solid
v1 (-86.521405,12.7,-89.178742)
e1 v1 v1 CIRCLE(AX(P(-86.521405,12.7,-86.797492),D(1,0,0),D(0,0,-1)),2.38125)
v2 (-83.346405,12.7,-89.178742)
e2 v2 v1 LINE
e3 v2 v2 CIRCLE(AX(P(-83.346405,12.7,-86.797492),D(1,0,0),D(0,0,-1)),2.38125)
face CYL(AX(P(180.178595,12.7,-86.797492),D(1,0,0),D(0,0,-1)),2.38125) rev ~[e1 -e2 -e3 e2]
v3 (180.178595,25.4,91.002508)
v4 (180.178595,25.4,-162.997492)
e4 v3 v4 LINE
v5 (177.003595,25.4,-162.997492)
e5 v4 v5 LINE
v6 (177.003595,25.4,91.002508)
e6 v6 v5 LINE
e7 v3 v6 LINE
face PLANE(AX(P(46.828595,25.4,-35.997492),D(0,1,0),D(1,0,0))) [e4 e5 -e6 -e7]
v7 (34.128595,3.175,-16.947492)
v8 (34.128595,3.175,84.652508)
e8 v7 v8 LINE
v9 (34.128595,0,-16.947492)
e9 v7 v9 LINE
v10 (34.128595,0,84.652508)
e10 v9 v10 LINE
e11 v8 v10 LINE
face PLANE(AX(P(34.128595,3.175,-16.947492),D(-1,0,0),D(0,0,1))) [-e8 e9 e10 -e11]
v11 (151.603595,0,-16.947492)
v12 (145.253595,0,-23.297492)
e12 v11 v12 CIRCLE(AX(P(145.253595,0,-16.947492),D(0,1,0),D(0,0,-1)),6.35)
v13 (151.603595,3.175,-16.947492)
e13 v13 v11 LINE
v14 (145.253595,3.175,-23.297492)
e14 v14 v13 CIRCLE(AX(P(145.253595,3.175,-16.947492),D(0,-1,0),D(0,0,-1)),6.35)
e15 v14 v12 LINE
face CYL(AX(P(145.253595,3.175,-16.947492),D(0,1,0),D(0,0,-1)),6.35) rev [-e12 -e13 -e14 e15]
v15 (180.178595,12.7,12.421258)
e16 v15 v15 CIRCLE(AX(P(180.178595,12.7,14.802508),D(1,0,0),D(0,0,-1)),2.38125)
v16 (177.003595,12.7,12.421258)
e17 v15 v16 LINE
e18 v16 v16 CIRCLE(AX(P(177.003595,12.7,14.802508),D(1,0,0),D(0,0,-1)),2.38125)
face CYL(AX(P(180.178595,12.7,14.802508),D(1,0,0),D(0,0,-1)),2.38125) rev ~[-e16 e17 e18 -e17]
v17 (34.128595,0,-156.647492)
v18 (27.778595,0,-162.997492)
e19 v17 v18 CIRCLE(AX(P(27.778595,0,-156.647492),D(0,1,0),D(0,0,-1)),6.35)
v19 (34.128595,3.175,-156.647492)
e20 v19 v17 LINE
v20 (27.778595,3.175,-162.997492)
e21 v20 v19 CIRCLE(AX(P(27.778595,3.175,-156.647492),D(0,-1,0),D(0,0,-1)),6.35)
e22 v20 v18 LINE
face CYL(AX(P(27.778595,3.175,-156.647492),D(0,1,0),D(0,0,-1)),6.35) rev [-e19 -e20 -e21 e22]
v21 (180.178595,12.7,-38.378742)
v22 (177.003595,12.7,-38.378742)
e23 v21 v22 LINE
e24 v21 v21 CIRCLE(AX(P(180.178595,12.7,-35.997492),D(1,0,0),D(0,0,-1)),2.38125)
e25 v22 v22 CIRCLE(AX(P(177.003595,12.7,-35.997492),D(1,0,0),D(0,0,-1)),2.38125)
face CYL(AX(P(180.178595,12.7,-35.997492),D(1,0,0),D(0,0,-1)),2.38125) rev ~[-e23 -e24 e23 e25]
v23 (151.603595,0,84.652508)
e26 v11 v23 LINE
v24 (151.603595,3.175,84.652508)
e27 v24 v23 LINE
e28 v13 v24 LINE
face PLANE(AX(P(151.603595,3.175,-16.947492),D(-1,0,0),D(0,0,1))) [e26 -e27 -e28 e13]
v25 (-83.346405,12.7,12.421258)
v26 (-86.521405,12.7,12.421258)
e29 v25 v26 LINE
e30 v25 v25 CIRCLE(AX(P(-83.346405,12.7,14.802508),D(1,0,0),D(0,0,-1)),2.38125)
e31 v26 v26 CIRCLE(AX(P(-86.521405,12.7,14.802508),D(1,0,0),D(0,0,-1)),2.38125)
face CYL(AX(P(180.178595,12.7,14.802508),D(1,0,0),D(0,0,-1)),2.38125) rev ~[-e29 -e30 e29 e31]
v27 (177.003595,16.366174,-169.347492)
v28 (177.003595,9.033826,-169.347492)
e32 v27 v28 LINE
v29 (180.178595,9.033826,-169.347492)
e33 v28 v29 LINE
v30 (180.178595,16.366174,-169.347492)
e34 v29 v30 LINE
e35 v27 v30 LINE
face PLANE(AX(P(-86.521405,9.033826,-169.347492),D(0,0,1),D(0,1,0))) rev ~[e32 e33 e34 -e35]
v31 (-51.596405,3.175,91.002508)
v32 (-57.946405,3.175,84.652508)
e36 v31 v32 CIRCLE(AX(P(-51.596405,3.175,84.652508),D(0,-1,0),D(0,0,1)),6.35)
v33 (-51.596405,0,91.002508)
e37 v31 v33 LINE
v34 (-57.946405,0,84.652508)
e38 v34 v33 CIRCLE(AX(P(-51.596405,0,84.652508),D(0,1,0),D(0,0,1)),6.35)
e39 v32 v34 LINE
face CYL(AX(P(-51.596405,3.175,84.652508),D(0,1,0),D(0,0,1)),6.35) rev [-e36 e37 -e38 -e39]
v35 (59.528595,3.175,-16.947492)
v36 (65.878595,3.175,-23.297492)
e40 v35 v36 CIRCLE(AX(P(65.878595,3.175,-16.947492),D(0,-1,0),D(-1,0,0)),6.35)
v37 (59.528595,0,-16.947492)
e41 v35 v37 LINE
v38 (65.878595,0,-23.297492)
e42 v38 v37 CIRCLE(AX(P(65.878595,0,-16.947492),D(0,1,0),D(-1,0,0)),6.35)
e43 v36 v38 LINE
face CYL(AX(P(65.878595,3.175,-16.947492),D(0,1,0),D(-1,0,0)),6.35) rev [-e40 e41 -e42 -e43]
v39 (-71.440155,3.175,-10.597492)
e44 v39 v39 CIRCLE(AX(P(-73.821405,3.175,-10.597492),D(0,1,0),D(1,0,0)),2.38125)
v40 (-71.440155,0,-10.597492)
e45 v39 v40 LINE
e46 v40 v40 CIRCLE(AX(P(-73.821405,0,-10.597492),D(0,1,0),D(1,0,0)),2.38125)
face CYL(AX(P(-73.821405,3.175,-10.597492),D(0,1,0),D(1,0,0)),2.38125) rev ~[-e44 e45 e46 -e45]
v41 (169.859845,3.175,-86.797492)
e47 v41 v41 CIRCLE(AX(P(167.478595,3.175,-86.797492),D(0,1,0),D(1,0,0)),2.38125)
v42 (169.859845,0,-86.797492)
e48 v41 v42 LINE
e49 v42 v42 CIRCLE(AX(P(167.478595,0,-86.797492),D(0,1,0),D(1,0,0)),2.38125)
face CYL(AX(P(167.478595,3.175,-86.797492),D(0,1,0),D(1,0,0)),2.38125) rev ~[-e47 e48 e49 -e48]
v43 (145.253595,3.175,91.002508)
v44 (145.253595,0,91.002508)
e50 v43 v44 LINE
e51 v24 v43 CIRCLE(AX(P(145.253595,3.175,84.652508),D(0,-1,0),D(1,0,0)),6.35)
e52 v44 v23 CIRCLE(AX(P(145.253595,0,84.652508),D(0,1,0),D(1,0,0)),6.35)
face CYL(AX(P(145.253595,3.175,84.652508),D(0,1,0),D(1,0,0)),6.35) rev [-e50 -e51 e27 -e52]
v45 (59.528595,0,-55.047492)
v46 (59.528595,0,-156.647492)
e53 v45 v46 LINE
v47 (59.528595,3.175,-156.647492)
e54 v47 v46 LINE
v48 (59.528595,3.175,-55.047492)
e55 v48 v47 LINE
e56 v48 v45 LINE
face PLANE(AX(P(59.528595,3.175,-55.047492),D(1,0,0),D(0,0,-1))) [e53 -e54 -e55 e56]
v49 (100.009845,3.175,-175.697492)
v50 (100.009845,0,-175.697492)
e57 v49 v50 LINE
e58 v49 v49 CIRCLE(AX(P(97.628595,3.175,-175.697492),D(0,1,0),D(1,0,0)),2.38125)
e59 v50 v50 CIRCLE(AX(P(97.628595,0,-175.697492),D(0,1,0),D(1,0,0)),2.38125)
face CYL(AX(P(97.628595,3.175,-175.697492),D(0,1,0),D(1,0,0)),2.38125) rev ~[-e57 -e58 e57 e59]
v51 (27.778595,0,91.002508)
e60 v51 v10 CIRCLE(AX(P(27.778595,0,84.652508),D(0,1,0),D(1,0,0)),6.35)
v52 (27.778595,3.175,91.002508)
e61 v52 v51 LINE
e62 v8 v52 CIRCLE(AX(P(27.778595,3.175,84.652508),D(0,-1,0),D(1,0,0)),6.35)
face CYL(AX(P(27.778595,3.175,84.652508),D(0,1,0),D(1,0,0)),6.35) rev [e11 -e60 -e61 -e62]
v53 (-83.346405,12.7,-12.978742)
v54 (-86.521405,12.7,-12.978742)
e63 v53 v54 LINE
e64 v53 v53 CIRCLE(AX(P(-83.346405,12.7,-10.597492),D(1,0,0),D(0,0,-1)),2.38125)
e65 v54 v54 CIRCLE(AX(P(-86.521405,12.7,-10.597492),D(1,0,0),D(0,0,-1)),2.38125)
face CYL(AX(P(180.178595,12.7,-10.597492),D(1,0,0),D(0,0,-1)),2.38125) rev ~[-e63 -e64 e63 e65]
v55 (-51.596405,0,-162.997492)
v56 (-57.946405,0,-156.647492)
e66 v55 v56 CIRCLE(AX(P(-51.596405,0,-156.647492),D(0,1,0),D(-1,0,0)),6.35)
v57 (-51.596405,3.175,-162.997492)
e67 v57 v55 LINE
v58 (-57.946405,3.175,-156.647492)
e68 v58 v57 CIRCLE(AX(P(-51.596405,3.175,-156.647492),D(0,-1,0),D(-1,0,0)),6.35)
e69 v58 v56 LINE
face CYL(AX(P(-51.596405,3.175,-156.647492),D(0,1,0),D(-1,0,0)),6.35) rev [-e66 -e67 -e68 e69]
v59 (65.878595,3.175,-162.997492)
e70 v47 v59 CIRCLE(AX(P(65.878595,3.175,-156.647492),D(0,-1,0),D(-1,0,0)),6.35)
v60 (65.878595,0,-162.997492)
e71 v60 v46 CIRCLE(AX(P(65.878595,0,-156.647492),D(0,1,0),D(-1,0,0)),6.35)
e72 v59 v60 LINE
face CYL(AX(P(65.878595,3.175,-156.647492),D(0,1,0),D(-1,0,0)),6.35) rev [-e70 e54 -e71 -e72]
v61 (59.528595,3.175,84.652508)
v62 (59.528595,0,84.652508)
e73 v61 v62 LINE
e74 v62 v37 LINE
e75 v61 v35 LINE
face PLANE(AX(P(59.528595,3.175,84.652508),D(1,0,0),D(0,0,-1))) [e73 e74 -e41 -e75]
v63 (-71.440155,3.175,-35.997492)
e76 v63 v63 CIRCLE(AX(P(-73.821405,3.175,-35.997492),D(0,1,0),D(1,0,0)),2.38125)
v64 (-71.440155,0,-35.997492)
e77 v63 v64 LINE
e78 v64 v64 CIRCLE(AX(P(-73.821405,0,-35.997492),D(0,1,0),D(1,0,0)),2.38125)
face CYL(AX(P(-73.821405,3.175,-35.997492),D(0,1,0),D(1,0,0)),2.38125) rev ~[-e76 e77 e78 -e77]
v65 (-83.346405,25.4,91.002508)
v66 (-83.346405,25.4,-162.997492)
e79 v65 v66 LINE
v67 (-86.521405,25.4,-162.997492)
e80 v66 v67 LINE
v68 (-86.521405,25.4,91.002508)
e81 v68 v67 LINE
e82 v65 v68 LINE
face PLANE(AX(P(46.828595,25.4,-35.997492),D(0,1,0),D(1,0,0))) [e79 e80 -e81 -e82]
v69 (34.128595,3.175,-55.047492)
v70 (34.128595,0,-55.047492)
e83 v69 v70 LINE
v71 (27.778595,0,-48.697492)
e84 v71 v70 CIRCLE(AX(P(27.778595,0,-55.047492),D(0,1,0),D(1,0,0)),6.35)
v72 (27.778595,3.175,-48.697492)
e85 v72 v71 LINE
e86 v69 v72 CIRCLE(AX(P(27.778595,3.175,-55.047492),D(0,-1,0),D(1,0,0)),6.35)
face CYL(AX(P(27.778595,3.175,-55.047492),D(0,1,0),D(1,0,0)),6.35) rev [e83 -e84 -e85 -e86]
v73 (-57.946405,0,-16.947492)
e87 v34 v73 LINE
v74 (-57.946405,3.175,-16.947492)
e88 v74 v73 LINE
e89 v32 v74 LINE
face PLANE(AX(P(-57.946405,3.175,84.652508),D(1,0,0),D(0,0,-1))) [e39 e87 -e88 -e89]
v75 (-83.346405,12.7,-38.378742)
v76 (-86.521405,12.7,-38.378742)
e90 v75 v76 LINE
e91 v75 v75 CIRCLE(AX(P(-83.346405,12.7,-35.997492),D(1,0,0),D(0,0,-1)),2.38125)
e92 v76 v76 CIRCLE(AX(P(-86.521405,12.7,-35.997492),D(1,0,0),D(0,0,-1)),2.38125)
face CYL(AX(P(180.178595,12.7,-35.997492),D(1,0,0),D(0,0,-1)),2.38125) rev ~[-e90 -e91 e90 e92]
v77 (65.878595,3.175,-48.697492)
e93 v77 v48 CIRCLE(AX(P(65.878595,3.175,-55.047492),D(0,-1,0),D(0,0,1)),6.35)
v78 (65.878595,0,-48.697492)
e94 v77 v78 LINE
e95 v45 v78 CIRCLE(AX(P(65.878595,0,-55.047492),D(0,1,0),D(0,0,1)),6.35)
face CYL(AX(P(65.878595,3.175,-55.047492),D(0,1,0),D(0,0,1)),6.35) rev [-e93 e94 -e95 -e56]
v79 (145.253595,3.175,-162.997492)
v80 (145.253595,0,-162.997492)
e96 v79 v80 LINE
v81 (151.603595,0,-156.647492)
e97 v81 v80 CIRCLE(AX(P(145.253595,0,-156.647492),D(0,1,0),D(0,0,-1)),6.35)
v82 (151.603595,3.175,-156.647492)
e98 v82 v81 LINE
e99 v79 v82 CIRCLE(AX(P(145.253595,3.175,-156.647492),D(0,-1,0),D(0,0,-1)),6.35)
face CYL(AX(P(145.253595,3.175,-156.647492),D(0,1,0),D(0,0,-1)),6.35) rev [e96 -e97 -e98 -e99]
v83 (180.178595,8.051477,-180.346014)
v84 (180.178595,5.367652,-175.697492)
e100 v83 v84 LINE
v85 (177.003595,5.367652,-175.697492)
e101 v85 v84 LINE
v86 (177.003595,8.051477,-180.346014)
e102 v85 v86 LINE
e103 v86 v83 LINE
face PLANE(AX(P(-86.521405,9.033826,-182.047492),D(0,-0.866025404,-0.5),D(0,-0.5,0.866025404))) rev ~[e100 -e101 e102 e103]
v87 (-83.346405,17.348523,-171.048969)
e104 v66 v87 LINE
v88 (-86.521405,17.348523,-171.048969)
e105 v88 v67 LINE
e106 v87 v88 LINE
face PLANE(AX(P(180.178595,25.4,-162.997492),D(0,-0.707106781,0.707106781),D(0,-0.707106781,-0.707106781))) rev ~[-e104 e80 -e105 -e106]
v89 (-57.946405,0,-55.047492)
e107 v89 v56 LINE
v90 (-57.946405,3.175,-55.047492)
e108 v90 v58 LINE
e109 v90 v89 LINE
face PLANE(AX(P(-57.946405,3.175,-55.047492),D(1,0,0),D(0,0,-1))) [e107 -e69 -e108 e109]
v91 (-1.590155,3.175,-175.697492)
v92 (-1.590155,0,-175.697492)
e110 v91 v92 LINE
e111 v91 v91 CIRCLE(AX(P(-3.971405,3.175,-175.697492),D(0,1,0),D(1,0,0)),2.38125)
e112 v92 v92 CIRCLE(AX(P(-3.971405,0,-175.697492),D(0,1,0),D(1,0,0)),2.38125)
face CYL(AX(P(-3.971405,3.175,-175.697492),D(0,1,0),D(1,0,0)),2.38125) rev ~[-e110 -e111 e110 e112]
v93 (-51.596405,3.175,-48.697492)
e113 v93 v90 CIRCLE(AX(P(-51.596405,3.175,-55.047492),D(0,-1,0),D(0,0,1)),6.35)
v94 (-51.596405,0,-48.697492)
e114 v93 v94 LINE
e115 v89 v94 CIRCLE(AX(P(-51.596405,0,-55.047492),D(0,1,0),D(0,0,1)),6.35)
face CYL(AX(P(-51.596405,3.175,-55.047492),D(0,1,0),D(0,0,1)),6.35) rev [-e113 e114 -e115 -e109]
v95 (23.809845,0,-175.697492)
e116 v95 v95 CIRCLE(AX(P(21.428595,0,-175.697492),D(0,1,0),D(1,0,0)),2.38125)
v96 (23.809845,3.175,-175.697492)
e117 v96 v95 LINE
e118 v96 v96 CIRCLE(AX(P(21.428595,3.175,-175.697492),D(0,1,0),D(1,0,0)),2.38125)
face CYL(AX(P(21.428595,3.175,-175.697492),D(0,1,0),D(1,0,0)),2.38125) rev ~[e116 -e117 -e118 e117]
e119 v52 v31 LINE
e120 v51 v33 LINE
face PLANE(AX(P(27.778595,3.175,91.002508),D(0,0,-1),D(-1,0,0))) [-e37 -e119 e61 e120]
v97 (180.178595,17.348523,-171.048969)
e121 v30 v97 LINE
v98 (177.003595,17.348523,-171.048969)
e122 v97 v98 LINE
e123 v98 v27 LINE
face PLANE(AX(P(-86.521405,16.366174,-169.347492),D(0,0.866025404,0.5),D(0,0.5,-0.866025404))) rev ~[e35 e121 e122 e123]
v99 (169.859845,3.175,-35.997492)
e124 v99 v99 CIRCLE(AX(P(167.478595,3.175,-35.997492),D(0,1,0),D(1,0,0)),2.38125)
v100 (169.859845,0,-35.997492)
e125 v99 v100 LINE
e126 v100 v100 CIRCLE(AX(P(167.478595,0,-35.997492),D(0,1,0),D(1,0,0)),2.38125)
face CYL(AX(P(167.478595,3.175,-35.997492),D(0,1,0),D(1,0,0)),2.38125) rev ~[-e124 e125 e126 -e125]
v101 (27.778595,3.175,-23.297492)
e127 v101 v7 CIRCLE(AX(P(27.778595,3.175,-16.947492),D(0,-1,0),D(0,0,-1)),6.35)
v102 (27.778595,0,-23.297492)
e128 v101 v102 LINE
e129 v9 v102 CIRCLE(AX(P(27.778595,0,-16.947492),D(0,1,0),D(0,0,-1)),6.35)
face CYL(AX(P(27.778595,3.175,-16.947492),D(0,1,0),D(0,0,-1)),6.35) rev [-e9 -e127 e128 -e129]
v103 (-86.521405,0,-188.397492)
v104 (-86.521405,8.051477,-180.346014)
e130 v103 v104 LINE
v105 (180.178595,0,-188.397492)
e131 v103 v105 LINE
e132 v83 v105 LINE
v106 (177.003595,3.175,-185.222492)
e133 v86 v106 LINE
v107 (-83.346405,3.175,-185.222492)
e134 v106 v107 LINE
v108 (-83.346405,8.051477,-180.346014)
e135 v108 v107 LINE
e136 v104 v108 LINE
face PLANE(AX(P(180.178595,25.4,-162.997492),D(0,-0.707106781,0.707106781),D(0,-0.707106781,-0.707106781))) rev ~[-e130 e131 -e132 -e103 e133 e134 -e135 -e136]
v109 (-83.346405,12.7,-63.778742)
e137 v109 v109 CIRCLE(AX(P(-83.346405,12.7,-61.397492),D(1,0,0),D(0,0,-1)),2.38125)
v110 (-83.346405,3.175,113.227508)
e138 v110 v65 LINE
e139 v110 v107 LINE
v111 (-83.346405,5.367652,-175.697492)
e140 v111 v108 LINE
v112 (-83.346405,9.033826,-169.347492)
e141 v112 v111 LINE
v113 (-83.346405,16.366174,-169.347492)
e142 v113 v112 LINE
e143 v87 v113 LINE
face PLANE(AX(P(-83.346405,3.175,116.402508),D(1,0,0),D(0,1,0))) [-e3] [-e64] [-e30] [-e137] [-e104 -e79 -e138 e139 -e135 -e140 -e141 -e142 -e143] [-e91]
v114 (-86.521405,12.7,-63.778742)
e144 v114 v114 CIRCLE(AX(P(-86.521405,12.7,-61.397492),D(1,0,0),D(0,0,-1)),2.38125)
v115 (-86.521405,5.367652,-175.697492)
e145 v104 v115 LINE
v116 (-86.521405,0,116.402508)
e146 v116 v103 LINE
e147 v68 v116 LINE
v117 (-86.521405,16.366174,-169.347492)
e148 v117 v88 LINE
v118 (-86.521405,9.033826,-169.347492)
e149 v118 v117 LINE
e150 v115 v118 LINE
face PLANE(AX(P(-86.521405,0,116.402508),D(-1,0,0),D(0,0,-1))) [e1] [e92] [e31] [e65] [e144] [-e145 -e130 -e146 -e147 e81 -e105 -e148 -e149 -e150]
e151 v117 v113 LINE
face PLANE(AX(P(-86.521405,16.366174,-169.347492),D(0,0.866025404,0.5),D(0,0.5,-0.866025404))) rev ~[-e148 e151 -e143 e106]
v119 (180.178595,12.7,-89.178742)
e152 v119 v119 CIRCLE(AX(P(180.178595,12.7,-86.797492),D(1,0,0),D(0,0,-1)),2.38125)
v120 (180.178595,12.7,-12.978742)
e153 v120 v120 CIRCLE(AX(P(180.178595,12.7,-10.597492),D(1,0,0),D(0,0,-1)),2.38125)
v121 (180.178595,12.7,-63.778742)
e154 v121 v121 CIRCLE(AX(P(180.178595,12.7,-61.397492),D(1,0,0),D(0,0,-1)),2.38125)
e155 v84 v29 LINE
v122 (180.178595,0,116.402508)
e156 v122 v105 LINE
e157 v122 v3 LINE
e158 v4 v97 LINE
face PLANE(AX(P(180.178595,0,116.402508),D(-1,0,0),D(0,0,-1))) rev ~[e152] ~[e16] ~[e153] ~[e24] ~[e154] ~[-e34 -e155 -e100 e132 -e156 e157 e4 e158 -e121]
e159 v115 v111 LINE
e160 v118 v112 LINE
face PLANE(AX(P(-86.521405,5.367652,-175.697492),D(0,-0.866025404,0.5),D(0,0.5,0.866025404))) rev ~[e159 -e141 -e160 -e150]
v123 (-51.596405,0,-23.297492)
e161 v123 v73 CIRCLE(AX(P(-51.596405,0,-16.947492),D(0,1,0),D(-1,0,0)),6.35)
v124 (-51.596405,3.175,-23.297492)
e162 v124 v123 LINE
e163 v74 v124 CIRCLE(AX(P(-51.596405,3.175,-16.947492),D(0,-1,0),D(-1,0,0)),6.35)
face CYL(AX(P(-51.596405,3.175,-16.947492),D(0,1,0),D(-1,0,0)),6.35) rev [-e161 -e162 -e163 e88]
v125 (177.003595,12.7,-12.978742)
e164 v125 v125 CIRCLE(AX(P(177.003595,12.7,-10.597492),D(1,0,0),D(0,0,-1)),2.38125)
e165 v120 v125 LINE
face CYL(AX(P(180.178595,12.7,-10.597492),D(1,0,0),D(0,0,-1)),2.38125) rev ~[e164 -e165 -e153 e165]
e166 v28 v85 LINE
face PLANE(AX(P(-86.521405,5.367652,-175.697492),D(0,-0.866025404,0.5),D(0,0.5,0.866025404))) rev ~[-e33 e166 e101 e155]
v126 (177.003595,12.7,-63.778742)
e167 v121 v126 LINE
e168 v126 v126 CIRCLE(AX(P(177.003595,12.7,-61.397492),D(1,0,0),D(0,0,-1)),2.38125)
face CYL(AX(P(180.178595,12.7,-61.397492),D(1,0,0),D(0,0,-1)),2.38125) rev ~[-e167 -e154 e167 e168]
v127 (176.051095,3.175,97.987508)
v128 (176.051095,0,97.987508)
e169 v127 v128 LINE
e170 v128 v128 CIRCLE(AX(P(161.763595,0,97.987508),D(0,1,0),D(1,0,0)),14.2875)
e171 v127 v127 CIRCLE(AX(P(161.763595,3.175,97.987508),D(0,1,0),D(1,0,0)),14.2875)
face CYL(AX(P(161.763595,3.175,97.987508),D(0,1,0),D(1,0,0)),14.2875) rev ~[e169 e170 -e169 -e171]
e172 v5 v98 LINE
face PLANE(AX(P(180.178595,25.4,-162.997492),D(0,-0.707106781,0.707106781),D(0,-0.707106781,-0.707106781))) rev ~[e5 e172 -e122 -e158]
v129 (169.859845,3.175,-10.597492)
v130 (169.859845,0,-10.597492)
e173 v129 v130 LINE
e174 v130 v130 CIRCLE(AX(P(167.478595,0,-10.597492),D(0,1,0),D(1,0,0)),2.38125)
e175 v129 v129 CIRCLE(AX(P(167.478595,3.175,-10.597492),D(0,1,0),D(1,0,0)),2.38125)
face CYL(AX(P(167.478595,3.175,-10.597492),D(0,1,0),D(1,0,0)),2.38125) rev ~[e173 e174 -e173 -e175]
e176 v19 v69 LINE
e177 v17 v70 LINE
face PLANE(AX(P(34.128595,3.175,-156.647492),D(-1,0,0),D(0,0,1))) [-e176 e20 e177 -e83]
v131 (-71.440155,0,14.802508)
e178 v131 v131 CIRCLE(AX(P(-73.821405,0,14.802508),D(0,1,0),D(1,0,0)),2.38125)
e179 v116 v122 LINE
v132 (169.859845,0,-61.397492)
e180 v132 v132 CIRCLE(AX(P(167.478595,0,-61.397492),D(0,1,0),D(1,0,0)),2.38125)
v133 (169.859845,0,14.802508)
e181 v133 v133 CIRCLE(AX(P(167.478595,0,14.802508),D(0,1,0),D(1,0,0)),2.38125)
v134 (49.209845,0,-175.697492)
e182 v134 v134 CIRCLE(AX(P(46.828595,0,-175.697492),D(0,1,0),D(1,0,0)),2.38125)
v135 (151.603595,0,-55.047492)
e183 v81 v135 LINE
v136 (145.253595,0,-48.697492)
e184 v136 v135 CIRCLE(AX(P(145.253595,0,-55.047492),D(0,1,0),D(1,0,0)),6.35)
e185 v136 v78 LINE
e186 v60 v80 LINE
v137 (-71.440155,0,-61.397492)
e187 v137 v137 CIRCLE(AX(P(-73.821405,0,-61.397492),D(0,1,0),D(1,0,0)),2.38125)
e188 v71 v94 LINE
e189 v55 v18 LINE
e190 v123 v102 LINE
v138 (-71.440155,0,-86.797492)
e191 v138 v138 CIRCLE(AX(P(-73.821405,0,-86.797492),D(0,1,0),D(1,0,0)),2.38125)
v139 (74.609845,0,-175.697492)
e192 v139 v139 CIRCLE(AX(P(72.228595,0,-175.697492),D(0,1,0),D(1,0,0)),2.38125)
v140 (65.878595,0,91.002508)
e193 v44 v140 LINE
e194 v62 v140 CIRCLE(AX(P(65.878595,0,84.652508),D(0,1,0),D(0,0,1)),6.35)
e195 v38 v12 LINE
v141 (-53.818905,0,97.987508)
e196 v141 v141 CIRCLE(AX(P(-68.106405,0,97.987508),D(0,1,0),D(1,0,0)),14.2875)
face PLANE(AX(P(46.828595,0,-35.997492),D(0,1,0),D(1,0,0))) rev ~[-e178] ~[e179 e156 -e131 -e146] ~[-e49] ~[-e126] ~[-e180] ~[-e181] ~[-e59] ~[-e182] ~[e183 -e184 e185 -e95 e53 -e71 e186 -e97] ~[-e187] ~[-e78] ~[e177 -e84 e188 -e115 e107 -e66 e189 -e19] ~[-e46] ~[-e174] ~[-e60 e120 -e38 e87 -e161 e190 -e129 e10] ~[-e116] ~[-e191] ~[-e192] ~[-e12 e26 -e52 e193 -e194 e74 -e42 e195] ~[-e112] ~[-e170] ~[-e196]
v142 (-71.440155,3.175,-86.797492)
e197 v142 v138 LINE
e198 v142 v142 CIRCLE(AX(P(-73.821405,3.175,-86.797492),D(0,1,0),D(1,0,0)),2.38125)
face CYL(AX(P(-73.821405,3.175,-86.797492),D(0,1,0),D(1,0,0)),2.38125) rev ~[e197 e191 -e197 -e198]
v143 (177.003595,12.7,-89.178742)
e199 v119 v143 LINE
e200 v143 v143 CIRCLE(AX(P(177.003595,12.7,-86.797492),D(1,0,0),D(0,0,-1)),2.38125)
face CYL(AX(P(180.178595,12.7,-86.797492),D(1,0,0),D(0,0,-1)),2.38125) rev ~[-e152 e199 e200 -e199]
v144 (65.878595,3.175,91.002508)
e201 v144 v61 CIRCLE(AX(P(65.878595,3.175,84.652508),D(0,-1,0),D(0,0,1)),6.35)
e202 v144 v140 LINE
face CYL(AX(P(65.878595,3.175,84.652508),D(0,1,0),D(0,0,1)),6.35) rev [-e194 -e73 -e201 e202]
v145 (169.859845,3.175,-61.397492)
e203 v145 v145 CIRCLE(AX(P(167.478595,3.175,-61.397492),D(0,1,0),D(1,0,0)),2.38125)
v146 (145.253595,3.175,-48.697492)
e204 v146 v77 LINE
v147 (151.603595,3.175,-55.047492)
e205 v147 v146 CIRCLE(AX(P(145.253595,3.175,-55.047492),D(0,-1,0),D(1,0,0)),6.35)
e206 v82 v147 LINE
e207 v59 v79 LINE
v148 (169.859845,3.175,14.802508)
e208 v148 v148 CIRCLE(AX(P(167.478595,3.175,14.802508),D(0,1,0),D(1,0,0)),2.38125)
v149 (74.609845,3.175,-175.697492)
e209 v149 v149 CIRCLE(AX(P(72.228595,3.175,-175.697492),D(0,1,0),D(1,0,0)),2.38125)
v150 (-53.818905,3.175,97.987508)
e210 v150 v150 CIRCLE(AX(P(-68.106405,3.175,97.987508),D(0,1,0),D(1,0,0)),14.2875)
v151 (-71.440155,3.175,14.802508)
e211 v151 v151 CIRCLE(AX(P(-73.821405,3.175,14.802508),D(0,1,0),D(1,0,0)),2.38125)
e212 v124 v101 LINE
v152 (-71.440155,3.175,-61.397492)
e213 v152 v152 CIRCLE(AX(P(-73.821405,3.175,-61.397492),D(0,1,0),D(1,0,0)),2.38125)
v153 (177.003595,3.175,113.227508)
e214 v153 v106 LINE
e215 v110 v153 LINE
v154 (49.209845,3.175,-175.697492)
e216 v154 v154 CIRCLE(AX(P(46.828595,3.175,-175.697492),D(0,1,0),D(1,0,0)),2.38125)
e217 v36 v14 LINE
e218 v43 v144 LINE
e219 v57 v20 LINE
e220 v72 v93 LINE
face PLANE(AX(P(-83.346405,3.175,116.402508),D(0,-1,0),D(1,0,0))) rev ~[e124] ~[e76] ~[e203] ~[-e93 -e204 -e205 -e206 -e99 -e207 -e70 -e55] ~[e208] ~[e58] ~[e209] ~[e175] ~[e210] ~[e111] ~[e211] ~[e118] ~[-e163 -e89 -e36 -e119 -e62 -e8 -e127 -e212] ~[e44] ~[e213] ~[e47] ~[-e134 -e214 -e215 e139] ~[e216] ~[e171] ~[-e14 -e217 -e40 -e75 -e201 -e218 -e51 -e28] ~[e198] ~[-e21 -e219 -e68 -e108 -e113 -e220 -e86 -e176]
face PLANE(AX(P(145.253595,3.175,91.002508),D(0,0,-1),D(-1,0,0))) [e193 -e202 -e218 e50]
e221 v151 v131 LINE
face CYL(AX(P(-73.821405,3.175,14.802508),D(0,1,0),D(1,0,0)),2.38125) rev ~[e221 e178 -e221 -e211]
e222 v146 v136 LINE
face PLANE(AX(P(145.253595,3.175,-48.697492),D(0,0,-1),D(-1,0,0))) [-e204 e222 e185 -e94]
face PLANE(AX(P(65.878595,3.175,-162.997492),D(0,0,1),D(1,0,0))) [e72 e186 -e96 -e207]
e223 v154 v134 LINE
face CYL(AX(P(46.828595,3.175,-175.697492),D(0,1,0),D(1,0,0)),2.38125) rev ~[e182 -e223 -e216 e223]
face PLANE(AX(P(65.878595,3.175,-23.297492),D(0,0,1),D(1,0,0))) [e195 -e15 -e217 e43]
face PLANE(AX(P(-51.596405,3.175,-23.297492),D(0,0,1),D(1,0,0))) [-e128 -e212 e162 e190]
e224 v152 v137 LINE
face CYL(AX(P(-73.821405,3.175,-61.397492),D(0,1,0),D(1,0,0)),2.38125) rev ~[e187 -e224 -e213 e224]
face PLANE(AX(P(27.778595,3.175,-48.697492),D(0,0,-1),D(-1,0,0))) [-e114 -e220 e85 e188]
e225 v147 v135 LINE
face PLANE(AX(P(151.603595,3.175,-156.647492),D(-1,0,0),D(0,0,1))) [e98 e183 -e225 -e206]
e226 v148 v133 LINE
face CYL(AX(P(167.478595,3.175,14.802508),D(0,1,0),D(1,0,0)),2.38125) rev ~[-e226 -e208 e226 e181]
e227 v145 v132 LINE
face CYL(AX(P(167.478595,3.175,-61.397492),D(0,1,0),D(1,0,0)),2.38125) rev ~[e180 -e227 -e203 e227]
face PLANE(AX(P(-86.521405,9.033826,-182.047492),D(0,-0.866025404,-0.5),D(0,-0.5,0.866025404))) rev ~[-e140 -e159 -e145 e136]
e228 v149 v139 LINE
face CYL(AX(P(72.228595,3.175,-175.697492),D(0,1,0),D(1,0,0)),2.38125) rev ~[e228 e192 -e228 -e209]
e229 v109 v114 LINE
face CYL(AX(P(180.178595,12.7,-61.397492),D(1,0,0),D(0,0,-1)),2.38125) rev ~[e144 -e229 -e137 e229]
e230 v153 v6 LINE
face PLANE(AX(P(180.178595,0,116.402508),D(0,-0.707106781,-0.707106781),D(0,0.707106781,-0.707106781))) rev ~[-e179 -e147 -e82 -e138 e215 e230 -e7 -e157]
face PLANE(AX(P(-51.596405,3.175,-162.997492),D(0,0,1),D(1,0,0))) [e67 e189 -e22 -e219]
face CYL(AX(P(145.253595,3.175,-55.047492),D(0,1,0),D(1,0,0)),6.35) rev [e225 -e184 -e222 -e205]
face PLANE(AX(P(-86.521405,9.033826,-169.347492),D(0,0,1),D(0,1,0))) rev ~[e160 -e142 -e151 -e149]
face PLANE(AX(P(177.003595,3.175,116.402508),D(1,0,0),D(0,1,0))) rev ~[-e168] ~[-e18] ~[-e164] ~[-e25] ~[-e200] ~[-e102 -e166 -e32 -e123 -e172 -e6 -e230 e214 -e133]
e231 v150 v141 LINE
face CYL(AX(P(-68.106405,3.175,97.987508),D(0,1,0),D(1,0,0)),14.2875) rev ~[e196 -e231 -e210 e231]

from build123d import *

# Parameters (mm, degrees)
SKETCH1_W           = 266.7
SKETCH1_H           = 304.8
BOSS_EXTRUDE1_DEPTH = 25.4
SKETCH2_W           = 260.35
SKETCH2_H           = 22.225
CUT_EXTRUDE1_DEPTH  = 12700
CUT_EXTRUDE2_DEPTH  = 12700
CUT_EXTRUDE10_DEPTH = 12700
SKETCH5_R           = 2.38125
CUT_EXTRUDE11_DEPTH = 267.7
SKETCH6_R           = 2.38125
CUT_EXTRUDE12_DEPTH = 4.175
SKETCH7_R           = 14.2875
CUT_EXTRUDE13_DEPTH = 3.175
SKETCH8_R           = 2.38125
CUT_EXTRUDE14_DEPTH = 4.175
CUT_EXTRUDE15_DEPTH = 267.7


with BuildPart() as part:
    # Sketch1 → Boss-Extrude1 (new body)
    with BuildSketch(Plane(origin=(0, 0, 0), x_dir=(1, 0, 0), z_dir=(0, 1, 0))):
        with Locations((46.828595318, 35.997491639)):
            Rectangle(SKETCH1_W, SKETCH1_H)
    extrude(amount=BOSS_EXTRUDE1_DEPTH)

    # Sketch2 → Cut-Extrude1 (cut)
    with BuildSketch(Plane.XY.offset(116.402508361)):
        with Locations((46.828595318, 14.2875)):
            Rectangle(SKETCH2_W, SKETCH2_H)
    extrude(amount=-CUT_EXTRUDE1_DEPTH, mode=Mode.SUBTRACT)

    # Sketch3 → Cut-Extrude2 (cut)
    with BuildSketch(Plane(origin=(0, 3.175, 0), x_dir=(1, 0, 0), z_dir=(0, 1, 0))):
        with BuildLine():
            ThreePointArc((65.878595318, -91.002508361), (61.388467257, -89.142636422), (59.528595318, -84.652508361))
            Line((59.528595318, -84.652508361), (59.528595318, 16.947491639))
            ThreePointArc((59.528595318, 16.947491639), (61.388467257, 21.437619699), (65.878595318, 23.297491639))
            Line((65.878595318, 23.297491639), (145.253595318, 23.297491639))
            ThreePointArc((145.253595318, 23.297491639), (149.743723378, 21.437619699), (151.603595318, 16.947491639))
            Line((151.603595318, 16.947491639), (151.603595318, -84.652508361))
            ThreePointArc((151.603595318, -84.652508361), (149.743723378, -89.142636422), (145.253595318, -91.002508361))
            Line((145.253595318, -91.002508361), (65.878595318, -91.002508361))
        make_face()
        with BuildLine():
            ThreePointArc((145.253595318, 162.997491639), (149.743723378, 161.137619699), (151.603595318, 156.647491639))
            Line((151.603595318, 156.647491639), (151.603595318, 55.047491639))
            ThreePointArc((151.603595318, 55.047491639), (149.743723378, 50.557363578), (145.253595318, 48.697491639))
            Line((145.253595318, 48.697491639), (65.878595318, 48.697491639))
            ThreePointArc((65.878595318, 48.697491639), (61.388467257, 50.557363578), (59.528595318, 55.047491639))
            Line((59.528595318, 55.047491639), (59.528595318, 156.647491639))
            ThreePointArc((59.528595318, 156.647491639), (61.388467257, 161.137619699), (65.878595318, 162.997491639))
            Line((65.878595318, 162.997491639), (145.253595318, 162.997491639))
        make_face()
        with BuildLine():
            ThreePointArc((27.778595318, 162.997491639), (32.268723378, 161.137619699), (34.128595318, 156.647491639))
            Line((34.128595318, 156.647491639), (34.128595318, 55.047491639))
            ThreePointArc((34.128595318, 55.047491639), (32.268723378, 50.557363578), (27.778595318, 48.697491639))
            Line((27.778595318, 48.697491639), (-51.596404682, 48.697491639))
            ThreePointArc((-51.596404682, 48.697491639), (-56.086532743, 50.557363578), (-57.946404682, 55.047491639))
            Line((-57.946404682, 55.047491639), (-57.946404682, 156.647491639))
            ThreePointArc((-57.946404682, 156.647491639), (-56.086532743, 161.137619699), (-51.596404682, 162.997491639))
            Line((-51.596404682, 162.997491639), (27.778595318, 162.997491639))
        make_face()
        with BuildLine():
            Line((-57.946404682, -84.652508361), (-57.946404682, 16.947491639))
            ThreePointArc((-57.946404682, 16.947491639), (-56.086532743, 21.437619699), (-51.596404682, 23.297491639))
            Line((-51.596404682, 23.297491639), (27.778595318, 23.297491639))
            ThreePointArc((27.778595318, 23.297491639), (32.268723378, 21.437619699), (34.128595318, 16.947491639))
            Line((34.128595318, 16.947491639), (34.128595318, -84.652508361))
            ThreePointArc((34.128595318, -84.652508361), (32.268723378, -89.142636422), (27.778595318, -91.002508361))
            Line((27.778595318, -91.002508361), (-51.596404682, -91.002508361))
            ThreePointArc((-51.596404682, -91.002508361), (-56.086532743, -89.142636422), (-57.946404682, -84.652508361))
        make_face()
    extrude(amount=-CUT_EXTRUDE2_DEPTH, mode=Mode.SUBTRACT)

    # Sketch4 → Cut-Extrude10 (cut)
    with BuildSketch(Plane(origin=(180.178595318, 0, 0), x_dir=(0, 0, -1), z_dir=(1, 0, 0))):
        Polygon((162.997491639, 25.4), (188.397491639, 0), (188.397491639, 25.4), align=None)
        Polygon((-116.402508361, 0), (-91.002508361, 25.4), (-116.402508361, 25.4), align=None)
    extrude(amount=-CUT_EXTRUDE10_DEPTH, mode=Mode.SUBTRACT)

    # Sketch5 → Cut-Extrude11 (cut, through all)
    with BuildSketch(Plane(origin=(180.178595318, 0, 0), x_dir=(0, 0, -1), z_dir=(1, 0, 0))):
        with Locations((86.797491639, 12.7)):
            Circle(SKETCH5_R)
        with Locations((35.997491639, 12.7)):
            Circle(SKETCH5_R)
        with Locations((61.397491639, 12.7)):
            Circle(SKETCH5_R)
        with Locations((10.597491639, 12.7)):
            Circle(SKETCH5_R)
        with Locations((-14.802508361, 12.7)):
            Circle(SKETCH5_R)
    extrude(amount=-CUT_EXTRUDE11_DEPTH, mode=Mode.SUBTRACT)

    # Sketch6 → Cut-Extrude12 (cut, through all)
    with BuildSketch(Plane(origin=(0, 3.175, 0), x_dir=(1, 0, 0), z_dir=(0, 1, 0))):
        with Locations((46.828595318, 175.697491639)):
            Circle(SKETCH6_R)
        with Locations((21.428595318, 175.697491639)):
            Circle(SKETCH6_R)
        with Locations((-3.971404682, 175.697491639)):
            Circle(SKETCH6_R)
        with Locations((72.228595318, 175.697491639)):
            Circle(SKETCH6_R)
        with Locations((97.628595318, 175.697491639)):
            Circle(SKETCH6_R)
    extrude(amount=-CUT_EXTRUDE12_DEPTH, mode=Mode.SUBTRACT)

    # Sketch7 → Cut-Extrude13 (cut)
    with BuildSketch(Plane(origin=(0, 3.175, 0), x_dir=(1, 0, 0), z_dir=(0, 1, 0))):
        with Locations((-68.106404682, -97.987508361)):
            Circle(SKETCH7_R)
        with Locations((161.763595318, -97.987508361)):
            Circle(SKETCH7_R)
    extrude(amount=-CUT_EXTRUDE13_DEPTH, mode=Mode.SUBTRACT)

    # Sketch8 → Cut-Extrude14 (cut, through all)
    with BuildSketch(Plane(origin=(0, 3.175, 0), x_dir=(1, 0, 0), z_dir=(0, 1, 0))):
        with Locations((167.478595318, 35.997491639)):
            Circle(SKETCH8_R)
        with Locations((167.478595318, 61.397491639)):
            Circle(SKETCH8_R)
        with Locations((167.478595318, 86.797491639)):
            Circle(SKETCH8_R)
        with Locations((167.478595318, 10.597491639)):
            Circle(SKETCH8_R)
        with Locations((167.478595318, -14.802508361)):
            Circle(SKETCH8_R)
        with Locations((-73.821404682, -14.802508361)):
            Circle(SKETCH8_R)
        with Locations((-73.821404682, 10.597491639)):
            Circle(SKETCH8_R)
        with Locations((-73.821404682, 35.997491639)):
            Circle(SKETCH8_R)
        with Locations((-73.821404682, 61.397491639)):
            Circle(SKETCH8_R)
        with Locations((-73.821404682, 86.797491639)):
            Circle(SKETCH8_R)
    extrude(amount=-CUT_EXTRUDE14_DEPTH, mode=Mode.SUBTRACT)

    # Sketch9 → Cut-Extrude15 (cut, through all)
    with BuildSketch(Plane.ZY.offset(86.521404682)):
        Polygon((-175.697491639, 20.032348419), (-182.047491639, 16.366174209), (-182.047491639, 9.033825791), (-175.697491639, 5.367651581), (-169.347491639, 9.033825791), (-169.347491639, 16.366174209), align=None)
    extrude(amount=-CUT_EXTRUDE15_DEPTH, mode=Mode.SUBTRACT)


solid = part.part
